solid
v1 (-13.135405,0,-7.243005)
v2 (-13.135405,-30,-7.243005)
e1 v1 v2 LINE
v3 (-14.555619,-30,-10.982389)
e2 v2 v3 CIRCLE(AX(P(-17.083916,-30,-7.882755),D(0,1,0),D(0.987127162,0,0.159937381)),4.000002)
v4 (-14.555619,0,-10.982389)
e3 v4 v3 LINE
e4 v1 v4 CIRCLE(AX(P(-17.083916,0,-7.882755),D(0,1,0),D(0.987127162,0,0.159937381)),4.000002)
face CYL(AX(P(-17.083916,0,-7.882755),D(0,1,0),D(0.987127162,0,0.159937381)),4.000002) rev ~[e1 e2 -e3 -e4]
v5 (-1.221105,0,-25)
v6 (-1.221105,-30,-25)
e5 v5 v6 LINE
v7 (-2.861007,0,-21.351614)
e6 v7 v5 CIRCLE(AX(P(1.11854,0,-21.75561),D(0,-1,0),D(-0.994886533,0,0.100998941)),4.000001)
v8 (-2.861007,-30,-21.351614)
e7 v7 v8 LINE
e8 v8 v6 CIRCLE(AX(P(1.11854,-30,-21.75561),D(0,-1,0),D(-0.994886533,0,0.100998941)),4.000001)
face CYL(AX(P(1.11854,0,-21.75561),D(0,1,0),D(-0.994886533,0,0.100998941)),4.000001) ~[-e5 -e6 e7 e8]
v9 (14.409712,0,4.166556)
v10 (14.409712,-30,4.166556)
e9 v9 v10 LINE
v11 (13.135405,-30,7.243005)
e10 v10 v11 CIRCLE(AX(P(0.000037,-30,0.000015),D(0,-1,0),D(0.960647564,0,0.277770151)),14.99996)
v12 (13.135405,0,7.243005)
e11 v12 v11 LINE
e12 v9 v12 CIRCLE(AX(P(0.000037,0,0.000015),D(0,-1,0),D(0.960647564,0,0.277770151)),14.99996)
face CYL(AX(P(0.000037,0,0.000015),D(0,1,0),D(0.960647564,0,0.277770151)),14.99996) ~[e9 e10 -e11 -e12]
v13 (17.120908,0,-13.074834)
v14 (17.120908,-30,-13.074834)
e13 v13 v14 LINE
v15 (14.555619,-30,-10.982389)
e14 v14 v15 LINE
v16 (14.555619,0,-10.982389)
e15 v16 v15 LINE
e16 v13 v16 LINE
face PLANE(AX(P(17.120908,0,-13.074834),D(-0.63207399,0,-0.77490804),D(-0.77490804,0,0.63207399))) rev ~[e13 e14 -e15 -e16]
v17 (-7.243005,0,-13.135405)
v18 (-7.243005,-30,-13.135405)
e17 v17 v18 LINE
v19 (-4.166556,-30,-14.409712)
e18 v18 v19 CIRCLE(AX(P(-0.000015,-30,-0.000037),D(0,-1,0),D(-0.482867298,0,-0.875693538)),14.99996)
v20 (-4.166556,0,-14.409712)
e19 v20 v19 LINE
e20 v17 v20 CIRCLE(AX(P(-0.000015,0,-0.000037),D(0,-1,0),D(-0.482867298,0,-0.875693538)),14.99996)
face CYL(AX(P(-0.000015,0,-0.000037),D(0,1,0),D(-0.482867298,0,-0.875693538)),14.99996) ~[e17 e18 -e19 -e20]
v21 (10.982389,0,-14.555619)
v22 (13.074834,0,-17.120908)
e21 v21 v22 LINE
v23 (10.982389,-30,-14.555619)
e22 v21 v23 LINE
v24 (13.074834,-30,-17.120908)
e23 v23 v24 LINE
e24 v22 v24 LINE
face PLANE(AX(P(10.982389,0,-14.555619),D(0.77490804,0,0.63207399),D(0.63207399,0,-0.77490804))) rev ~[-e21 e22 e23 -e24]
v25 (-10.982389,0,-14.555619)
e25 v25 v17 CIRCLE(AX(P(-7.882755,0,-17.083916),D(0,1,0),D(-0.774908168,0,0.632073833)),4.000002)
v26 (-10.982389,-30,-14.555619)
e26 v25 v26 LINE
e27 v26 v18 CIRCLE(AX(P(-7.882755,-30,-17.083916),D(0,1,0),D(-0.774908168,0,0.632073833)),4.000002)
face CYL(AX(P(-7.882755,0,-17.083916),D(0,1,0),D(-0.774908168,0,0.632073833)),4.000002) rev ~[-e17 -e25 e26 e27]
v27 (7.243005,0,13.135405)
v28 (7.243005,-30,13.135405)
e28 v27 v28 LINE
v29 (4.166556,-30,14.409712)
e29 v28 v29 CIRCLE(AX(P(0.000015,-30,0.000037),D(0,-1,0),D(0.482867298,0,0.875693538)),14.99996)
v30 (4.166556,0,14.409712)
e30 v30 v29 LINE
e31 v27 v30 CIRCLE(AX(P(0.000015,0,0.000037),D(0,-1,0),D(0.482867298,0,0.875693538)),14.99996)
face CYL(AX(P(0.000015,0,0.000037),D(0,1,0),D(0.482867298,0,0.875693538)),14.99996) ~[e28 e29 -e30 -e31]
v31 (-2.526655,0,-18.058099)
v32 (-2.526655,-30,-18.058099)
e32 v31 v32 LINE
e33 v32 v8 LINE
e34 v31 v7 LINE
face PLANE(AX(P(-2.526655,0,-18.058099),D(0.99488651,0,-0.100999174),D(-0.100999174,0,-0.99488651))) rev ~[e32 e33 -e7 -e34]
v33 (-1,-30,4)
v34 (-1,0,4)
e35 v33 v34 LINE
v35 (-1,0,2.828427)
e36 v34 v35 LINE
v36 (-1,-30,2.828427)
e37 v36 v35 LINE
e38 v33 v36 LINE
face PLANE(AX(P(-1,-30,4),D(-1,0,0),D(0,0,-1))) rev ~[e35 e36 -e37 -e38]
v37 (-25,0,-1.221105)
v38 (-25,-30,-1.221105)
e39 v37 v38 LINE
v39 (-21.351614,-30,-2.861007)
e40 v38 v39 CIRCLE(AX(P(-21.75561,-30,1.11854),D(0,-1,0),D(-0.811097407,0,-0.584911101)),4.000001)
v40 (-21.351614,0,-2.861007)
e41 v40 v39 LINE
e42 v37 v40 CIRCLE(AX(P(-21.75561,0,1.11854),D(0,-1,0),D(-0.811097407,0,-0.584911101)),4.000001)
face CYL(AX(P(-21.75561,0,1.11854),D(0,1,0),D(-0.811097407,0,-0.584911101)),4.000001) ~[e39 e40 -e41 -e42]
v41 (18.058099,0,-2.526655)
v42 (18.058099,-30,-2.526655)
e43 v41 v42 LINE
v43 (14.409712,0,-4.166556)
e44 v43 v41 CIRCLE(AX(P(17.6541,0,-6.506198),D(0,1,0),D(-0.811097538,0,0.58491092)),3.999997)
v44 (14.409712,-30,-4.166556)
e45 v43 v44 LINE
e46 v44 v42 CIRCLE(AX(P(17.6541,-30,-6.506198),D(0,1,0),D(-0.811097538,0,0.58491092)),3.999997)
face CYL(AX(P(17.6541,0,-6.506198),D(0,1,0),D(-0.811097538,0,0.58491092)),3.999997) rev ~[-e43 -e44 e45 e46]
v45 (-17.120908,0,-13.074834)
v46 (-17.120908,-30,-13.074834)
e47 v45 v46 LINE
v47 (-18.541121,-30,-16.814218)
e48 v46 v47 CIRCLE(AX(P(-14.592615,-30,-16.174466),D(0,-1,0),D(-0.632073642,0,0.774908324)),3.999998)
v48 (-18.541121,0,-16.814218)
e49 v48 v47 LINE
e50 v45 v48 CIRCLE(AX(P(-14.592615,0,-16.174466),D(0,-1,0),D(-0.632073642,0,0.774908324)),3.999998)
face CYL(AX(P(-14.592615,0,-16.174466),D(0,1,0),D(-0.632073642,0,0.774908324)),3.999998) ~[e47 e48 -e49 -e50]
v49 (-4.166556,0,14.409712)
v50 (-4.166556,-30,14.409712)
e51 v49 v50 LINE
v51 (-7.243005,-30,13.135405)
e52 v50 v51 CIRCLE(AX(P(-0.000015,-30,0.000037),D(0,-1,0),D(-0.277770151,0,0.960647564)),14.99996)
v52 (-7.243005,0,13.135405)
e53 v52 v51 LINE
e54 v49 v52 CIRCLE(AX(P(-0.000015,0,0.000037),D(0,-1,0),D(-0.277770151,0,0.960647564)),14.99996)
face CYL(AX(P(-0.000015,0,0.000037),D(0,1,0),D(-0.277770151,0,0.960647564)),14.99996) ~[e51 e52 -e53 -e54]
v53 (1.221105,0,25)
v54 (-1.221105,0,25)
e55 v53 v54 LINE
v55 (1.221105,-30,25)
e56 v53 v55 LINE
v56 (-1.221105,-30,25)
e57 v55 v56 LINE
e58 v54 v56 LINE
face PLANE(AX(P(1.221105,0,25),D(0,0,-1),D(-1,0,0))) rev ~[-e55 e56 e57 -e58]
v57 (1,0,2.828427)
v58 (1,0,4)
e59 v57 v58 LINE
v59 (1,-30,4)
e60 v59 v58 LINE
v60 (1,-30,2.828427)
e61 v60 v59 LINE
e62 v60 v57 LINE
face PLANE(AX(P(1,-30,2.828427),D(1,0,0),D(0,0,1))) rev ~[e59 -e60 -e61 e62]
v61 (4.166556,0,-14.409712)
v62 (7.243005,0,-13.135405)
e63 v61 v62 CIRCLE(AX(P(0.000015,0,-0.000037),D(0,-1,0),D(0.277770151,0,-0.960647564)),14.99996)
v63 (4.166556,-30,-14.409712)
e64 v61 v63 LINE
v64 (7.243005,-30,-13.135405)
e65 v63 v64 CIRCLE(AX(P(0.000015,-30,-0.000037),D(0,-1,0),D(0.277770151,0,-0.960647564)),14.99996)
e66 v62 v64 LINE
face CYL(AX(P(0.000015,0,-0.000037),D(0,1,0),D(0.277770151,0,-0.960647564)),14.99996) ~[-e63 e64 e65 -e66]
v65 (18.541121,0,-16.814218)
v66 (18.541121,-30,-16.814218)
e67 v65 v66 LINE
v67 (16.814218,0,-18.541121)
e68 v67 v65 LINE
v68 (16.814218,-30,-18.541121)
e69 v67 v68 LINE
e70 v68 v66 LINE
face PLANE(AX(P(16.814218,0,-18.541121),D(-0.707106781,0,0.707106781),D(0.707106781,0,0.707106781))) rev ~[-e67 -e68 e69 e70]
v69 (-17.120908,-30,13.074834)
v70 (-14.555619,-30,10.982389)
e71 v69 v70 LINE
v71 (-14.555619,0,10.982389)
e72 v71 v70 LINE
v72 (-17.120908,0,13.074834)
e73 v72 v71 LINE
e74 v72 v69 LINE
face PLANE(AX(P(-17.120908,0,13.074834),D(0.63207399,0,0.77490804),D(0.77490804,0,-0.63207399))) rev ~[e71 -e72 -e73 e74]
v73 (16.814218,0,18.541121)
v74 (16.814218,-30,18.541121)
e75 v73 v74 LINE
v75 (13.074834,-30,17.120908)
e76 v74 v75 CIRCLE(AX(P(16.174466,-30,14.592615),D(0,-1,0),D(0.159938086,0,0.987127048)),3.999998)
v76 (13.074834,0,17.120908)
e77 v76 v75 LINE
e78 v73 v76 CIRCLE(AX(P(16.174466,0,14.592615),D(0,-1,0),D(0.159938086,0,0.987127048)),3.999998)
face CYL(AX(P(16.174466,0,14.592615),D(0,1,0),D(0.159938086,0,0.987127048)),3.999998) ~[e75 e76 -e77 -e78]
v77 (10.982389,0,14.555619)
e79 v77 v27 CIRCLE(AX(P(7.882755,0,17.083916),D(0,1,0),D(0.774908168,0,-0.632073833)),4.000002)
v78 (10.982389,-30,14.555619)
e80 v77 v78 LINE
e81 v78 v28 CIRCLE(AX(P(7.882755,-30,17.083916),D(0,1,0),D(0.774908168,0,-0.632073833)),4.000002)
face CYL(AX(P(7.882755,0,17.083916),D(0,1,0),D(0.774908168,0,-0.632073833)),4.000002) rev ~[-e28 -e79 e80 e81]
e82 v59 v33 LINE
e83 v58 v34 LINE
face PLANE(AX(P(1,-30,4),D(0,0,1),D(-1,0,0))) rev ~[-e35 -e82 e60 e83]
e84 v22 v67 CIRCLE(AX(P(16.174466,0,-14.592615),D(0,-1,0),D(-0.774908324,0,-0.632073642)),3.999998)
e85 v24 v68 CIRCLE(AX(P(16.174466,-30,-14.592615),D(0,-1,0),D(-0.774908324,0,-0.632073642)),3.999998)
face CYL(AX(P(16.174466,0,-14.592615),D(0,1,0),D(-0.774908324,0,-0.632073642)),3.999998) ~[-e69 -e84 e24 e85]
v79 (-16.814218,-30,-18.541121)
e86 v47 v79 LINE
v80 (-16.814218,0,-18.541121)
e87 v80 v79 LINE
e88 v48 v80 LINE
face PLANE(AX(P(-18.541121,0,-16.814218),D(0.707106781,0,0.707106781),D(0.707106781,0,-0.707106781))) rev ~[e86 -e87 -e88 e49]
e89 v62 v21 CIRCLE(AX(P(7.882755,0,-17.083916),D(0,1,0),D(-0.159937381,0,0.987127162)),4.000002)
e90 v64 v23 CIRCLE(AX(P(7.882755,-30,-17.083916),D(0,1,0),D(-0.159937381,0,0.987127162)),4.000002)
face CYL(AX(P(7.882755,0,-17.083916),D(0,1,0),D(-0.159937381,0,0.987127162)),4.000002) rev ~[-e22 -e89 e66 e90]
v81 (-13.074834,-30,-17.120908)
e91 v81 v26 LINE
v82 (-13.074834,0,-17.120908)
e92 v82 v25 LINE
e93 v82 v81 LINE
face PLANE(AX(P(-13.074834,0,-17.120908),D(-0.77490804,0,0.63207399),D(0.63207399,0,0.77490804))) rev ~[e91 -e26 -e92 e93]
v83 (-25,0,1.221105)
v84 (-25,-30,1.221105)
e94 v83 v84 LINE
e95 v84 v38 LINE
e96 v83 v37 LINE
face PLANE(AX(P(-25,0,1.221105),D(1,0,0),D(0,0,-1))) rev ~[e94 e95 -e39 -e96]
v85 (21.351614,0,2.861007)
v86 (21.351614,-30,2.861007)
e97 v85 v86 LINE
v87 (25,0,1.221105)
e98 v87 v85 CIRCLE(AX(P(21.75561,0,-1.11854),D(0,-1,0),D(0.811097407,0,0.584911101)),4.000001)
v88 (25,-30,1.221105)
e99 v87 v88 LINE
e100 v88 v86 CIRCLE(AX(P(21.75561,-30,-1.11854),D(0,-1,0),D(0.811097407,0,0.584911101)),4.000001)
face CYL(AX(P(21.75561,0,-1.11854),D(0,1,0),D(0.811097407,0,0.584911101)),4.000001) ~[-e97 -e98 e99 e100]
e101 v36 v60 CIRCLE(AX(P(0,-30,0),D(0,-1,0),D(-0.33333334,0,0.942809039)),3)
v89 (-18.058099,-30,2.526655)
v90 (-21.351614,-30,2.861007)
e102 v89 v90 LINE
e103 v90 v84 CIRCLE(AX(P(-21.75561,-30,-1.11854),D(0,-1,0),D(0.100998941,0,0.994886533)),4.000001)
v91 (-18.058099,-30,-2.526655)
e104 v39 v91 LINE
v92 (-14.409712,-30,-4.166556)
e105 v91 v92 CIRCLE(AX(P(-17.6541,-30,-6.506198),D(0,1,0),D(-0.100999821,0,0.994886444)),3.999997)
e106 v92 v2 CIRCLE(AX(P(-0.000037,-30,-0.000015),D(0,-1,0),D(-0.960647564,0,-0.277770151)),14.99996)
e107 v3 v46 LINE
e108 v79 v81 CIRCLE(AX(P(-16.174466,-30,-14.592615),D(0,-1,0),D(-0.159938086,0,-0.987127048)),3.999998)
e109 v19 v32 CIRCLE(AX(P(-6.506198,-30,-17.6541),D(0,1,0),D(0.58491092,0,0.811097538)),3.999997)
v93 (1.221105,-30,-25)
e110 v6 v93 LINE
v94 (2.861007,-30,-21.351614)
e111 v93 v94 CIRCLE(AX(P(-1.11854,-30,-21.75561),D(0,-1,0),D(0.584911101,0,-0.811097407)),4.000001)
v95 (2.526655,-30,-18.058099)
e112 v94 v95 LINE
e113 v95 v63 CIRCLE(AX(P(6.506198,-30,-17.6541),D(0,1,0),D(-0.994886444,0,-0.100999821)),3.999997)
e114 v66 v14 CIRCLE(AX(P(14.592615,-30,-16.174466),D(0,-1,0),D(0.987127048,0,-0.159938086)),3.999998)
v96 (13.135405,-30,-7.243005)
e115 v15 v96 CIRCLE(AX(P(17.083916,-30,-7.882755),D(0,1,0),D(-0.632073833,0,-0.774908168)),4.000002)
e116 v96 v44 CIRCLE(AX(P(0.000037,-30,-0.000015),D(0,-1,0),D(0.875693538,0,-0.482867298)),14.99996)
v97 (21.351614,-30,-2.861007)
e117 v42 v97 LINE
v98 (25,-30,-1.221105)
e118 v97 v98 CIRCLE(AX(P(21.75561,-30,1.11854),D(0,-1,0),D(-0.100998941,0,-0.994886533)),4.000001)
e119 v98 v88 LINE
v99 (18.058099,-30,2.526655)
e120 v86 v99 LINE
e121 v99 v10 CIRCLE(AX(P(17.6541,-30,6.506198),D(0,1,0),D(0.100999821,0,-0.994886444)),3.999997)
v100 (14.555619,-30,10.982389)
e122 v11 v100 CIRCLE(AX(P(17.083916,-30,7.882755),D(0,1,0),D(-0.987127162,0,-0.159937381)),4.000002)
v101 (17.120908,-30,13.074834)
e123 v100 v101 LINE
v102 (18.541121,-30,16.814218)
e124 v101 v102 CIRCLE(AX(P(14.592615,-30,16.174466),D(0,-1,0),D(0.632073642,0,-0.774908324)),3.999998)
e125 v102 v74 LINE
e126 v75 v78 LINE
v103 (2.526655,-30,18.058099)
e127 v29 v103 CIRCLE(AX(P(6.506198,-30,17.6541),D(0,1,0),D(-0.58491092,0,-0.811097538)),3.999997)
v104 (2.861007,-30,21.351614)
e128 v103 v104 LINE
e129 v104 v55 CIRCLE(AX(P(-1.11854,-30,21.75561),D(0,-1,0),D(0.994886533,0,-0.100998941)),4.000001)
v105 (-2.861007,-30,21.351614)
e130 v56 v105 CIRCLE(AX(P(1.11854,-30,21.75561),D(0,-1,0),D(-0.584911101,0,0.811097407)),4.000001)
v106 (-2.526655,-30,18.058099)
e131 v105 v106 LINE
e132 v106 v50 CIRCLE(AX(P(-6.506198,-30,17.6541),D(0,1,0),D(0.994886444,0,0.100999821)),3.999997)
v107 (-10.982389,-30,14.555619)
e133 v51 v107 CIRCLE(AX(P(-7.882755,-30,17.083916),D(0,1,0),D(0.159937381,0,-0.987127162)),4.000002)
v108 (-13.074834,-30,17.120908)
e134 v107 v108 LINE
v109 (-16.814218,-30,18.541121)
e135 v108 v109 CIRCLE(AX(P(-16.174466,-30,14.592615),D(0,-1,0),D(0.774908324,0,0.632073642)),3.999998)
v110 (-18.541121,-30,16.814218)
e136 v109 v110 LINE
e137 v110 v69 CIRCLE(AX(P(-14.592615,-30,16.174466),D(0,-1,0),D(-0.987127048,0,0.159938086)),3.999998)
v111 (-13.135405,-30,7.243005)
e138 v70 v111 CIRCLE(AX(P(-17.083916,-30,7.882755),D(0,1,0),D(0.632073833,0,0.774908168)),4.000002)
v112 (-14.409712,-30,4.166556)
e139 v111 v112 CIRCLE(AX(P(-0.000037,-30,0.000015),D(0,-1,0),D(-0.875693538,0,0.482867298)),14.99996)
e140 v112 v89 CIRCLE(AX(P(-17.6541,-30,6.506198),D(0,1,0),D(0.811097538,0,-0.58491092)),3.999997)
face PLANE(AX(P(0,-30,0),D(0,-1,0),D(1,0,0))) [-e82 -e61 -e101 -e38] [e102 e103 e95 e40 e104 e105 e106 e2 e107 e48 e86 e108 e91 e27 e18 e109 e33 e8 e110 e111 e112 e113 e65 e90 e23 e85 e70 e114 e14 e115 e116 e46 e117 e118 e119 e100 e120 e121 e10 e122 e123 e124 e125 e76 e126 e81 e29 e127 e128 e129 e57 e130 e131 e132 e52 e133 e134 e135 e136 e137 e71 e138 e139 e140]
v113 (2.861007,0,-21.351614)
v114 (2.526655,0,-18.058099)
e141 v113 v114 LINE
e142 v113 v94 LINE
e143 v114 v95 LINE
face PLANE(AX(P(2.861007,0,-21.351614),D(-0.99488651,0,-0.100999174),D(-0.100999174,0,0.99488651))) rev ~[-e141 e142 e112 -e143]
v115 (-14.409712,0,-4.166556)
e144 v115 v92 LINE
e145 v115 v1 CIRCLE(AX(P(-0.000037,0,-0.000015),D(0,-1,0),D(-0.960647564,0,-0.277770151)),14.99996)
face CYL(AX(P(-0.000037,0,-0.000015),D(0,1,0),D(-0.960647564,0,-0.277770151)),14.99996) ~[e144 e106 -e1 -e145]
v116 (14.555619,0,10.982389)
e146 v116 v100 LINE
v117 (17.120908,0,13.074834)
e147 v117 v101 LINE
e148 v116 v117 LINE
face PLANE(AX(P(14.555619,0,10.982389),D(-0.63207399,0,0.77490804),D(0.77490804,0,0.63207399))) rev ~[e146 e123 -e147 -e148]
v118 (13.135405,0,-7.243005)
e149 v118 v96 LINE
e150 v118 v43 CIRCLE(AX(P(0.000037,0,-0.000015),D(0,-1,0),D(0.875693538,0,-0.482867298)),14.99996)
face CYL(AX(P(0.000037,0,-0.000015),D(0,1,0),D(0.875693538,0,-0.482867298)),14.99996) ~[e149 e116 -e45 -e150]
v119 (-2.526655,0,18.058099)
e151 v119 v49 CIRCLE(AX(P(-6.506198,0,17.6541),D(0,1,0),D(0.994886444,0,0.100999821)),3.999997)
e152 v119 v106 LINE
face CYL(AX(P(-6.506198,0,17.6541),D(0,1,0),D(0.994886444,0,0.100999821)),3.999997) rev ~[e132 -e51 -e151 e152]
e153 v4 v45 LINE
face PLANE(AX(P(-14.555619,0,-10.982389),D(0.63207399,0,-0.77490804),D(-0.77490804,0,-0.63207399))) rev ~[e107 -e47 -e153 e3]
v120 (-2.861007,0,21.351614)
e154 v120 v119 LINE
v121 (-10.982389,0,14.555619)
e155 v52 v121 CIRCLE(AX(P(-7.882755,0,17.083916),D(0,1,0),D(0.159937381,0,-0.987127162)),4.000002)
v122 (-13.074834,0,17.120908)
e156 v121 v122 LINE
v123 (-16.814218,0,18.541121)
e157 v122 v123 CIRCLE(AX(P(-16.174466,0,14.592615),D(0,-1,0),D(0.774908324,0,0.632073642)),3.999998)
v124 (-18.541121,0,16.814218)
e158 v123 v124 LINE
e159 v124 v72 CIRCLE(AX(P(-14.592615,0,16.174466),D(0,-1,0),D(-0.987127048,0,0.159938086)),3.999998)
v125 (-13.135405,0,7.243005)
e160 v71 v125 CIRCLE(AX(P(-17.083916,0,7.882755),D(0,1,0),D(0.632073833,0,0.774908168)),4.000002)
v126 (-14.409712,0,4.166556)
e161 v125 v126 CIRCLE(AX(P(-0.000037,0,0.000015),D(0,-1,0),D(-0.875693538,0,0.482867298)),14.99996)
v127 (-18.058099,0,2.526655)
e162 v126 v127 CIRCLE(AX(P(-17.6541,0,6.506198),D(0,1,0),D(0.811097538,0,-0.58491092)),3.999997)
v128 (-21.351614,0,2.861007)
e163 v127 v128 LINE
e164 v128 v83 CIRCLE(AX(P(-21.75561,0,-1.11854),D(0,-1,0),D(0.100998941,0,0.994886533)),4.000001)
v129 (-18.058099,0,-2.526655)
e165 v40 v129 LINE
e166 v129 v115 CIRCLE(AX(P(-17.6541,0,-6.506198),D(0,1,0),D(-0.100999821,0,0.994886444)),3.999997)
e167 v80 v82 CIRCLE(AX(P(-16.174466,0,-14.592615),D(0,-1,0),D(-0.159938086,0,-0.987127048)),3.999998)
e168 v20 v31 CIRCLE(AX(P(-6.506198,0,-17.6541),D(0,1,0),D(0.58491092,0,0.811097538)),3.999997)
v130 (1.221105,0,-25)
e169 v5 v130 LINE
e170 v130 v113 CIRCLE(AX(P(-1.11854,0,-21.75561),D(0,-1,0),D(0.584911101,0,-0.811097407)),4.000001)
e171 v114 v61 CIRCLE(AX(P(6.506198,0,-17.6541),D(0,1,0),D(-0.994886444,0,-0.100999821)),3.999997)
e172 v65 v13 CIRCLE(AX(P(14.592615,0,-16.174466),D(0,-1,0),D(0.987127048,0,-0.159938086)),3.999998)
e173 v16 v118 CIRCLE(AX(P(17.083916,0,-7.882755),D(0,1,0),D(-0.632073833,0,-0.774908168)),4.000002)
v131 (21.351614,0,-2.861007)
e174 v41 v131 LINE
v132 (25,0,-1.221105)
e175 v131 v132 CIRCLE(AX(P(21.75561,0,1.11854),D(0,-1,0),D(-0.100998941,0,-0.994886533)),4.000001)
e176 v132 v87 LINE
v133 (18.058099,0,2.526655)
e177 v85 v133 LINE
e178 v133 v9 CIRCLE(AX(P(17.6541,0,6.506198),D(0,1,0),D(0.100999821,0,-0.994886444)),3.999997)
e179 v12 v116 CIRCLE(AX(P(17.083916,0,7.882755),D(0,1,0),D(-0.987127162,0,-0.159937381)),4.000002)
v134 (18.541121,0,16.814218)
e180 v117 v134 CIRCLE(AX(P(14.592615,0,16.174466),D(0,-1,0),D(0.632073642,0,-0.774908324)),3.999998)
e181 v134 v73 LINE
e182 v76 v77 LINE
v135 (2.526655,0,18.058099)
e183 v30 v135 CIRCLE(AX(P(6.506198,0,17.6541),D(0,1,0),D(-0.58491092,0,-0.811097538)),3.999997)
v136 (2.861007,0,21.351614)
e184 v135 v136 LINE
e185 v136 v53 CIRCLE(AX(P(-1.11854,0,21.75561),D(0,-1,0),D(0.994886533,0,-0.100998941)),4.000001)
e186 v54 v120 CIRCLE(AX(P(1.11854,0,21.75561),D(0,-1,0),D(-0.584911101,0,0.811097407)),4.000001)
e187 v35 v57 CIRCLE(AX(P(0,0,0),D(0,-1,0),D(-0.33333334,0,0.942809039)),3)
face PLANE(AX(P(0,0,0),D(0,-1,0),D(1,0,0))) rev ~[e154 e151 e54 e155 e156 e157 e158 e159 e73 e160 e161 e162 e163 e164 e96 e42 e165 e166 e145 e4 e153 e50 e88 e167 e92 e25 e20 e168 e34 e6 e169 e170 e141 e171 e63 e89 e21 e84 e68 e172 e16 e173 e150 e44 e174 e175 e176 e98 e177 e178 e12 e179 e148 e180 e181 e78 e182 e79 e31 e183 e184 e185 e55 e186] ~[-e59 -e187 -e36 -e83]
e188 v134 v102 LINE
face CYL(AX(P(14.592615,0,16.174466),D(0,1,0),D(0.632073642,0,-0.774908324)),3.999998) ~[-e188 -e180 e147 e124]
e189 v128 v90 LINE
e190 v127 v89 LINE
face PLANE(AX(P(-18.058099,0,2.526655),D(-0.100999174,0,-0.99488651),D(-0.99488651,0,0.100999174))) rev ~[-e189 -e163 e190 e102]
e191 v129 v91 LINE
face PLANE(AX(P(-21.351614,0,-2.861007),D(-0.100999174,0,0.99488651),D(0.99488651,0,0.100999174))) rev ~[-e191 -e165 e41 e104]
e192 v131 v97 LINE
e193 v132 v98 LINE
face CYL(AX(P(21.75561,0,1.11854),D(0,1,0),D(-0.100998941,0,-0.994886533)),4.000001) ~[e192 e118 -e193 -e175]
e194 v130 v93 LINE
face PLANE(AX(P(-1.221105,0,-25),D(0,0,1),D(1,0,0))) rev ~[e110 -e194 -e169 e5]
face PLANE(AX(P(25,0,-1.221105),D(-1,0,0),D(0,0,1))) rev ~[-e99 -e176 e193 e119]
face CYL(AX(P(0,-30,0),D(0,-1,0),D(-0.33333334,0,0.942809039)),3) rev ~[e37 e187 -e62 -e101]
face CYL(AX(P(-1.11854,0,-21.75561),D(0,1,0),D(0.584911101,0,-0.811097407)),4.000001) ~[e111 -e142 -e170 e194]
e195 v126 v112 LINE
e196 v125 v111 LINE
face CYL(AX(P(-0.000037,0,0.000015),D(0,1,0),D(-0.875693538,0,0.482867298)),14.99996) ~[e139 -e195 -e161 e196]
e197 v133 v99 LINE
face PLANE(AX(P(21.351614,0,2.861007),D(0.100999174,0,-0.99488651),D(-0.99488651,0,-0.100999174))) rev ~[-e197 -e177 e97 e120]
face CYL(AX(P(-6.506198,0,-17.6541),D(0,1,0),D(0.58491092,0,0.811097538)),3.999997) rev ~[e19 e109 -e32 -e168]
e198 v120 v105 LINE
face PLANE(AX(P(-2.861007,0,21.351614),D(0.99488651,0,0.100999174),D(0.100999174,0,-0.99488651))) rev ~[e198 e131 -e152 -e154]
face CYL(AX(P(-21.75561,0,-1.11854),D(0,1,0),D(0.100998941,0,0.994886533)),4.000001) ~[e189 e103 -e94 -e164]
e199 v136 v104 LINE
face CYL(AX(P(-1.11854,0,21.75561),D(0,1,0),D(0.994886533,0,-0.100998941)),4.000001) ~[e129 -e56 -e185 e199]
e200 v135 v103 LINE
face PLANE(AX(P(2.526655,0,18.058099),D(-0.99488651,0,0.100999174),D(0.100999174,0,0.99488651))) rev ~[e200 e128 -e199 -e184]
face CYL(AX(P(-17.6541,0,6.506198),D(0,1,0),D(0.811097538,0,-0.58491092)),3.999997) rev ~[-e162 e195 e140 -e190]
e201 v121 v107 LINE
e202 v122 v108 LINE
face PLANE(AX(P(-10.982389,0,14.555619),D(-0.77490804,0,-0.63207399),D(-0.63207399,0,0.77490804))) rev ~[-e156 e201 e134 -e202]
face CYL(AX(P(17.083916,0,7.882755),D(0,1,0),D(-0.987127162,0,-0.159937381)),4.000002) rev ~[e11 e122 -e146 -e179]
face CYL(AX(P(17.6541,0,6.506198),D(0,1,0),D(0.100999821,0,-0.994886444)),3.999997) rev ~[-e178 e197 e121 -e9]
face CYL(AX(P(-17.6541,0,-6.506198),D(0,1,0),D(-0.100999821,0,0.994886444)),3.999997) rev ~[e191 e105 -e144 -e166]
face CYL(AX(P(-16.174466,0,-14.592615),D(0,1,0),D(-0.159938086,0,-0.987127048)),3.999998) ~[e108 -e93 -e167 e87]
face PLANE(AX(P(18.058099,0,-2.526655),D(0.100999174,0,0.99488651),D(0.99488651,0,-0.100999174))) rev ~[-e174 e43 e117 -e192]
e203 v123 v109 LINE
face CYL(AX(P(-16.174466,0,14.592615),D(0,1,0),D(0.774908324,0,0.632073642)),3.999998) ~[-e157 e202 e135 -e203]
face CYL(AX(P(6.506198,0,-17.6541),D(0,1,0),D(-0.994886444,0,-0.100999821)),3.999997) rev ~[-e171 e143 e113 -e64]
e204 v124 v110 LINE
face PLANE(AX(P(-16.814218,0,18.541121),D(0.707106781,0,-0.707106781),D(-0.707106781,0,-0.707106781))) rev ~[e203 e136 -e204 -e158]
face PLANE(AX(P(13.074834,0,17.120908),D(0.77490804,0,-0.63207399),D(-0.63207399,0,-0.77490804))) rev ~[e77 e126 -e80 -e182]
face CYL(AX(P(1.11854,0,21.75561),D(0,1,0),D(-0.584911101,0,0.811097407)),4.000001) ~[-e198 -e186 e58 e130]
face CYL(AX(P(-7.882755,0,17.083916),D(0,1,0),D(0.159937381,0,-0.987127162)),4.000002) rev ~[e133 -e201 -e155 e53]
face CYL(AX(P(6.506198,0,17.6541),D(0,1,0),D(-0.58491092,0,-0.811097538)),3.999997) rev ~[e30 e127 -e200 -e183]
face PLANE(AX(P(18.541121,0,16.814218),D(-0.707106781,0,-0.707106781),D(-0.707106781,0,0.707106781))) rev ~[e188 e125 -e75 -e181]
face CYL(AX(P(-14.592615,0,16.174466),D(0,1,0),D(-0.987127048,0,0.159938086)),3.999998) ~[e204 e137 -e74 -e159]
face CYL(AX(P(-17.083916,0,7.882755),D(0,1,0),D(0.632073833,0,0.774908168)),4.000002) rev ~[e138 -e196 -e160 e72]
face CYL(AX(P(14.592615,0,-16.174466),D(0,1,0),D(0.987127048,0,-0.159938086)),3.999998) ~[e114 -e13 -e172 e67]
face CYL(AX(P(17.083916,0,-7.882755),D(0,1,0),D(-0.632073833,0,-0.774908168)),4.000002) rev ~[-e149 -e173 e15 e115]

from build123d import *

# Parameters (mm, degrees)
F1_DEPTH = 30
F3_DEPTH = 30.001


with BuildPart() as f1:
    # F0 (on Front) → F1 (new body)
    with BuildSketch(Plane.XZ):
        with BuildLine():
            ThreePointArc((-14.555619, 10.982389), (-13.34453, 9.30297), (-13.135405, 7.243005))
            ThreePointArc((-13.135405, 7.243005), (-13.858193, 5.740251), (-14.409712, 4.166556))
            ThreePointArc((-14.409712, 4.166556), (-16.0142, 2.857814), (-18.058099, 2.526655))
            Line((-18.058099, 2.526655), (-21.351614, 2.861007))
            ThreePointArc((-21.351614, 2.861007), (-23.395512, 2.529847), (-25, 1.221105))
            Line((-25, 1.221105), (-25, -1.221105))
            ThreePointArc((-25, -1.221105), (-23.395512, -2.529847), (-21.351614, -2.861007))
            Line((-21.351614, -2.861007), (-18.058099, -2.526655))
            ThreePointArc((-18.058099, -2.526655), (-16.0142, -2.857814), (-14.409712, -4.166556))
            ThreePointArc((-14.409712, -4.166556), (-13.858193, -5.740251), (-13.135405, -7.243005))
            ThreePointArc((-13.135405, -7.243005), (-13.34453, -9.30297), (-14.555619, -10.982389))
            Line((-14.555619, -10.982389), (-17.120908, -13.074834))
            ThreePointArc((-17.120908, -13.074834), (-18.331997, -14.754253), (-18.541121, -16.814218))
            Line((-18.541121, -16.814218), (-16.814218, -18.541121))
            ThreePointArc((-16.814218, -18.541121), (-14.754253, -18.331997), (-13.074834, -17.120908))
            Line((-13.074834, -17.120908), (-10.982389, -14.555619))
            ThreePointArc((-10.982389, -14.555619), (-9.30297, -13.34453), (-7.243005, -13.135405))
            ThreePointArc((-7.243005, -13.135405), (-5.740251, -13.858193), (-4.166556, -14.409712))
            ThreePointArc((-4.166556, -14.409712), (-2.857814, -16.0142), (-2.526655, -18.058099))
            Line((-2.526655, -18.058099), (-2.861007, -21.351614))
            ThreePointArc((-2.861007, -21.351614), (-2.529847, -23.395512), (-1.221105, -25))
            Line((-1.221105, -25), (1.221105, -25))
            ThreePointArc((1.221105, -25), (2.529847, -23.395512), (2.861007, -21.351614))
            Line((2.861007, -21.351614), (2.526655, -18.058099))
            ThreePointArc((2.526655, -18.058099), (2.857814, -16.0142), (4.166556, -14.409712))
            ThreePointArc((4.166556, -14.409712), (5.740251, -13.858193), (7.243005, -13.135405))
            ThreePointArc((7.243005, -13.135405), (9.30297, -13.34453), (10.982389, -14.555619))
            Line((10.982389, -14.555619), (13.074834, -17.120908))
            ThreePointArc((13.074834, -17.120908), (14.754253, -18.331997), (16.814218, -18.541121))
            Line((16.814218, -18.541121), (18.541121, -16.814218))
            ThreePointArc((18.541121, -16.814218), (18.331997, -14.754253), (17.120908, -13.074834))
            Line((17.120908, -13.074834), (14.555619, -10.982389))
            ThreePointArc((14.555619, -10.982389), (13.34453, -9.30297), (13.135405, -7.243005))
            ThreePointArc((13.135405, -7.243005), (13.858193, -5.740251), (14.409712, -4.166556))
            ThreePointArc((14.409712, -4.166556), (16.0142, -2.857814), (18.058099, -2.526655))
            Line((18.058099, -2.526655), (21.351614, -2.861007))
            ThreePointArc((21.351614, -2.861007), (23.395512, -2.529847), (25, -1.221105))
            Line((25, -1.221105), (25, 1.221105))
            ThreePointArc((25, 1.221105), (23.395512, 2.529847), (21.351614, 2.861007))
            Line((21.351614, 2.861007), (18.058099, 2.526655))
            ThreePointArc((18.058099, 2.526655), (16.0142, 2.857814), (14.409712, 4.166556))
            ThreePointArc((14.409712, 4.166556), (13.858193, 5.740251), (13.135405, 7.243005))
            ThreePointArc((13.135405, 7.243005), (13.34453, 9.30297), (14.555619, 10.982389))
            Line((14.555619, 10.982389), (17.120908, 13.074834))
            ThreePointArc((17.120908, 13.074834), (18.331997, 14.754253), (18.541121, 16.814218))
            Line((18.541121, 16.814218), (16.814218, 18.541121))
            ThreePointArc((16.814218, 18.541121), (14.754253, 18.331997), (13.074834, 17.120908))
            Line((13.074834, 17.120908), (10.982389, 14.555619))
            ThreePointArc((10.982389, 14.555619), (9.30297, 13.34453), (7.243005, 13.135405))
            ThreePointArc((7.243005, 13.135405), (5.740251, 13.858193), (4.166556, 14.409712))
            ThreePointArc((4.166556, 14.409712), (2.857814, 16.0142), (2.526655, 18.058099))
            Line((2.526655, 18.058099), (2.861007, 21.351614))
            ThreePointArc((2.861007, 21.351614), (2.529847, 23.395512), (1.221105, 25))
            Line((1.221105, 25), (-1.221105, 25))
            ThreePointArc((-1.221105, 25), (-2.529847, 23.395512), (-2.861007, 21.351614))
            Line((-2.861007, 21.351614), (-2.526655, 18.058099))
            ThreePointArc((-2.526655, 18.058099), (-2.857814, 16.0142), (-4.166556, 14.409712))
            ThreePointArc((-4.166556, 14.409712), (-5.740251, 13.858193), (-7.243005, 13.135405))
            ThreePointArc((-7.243005, 13.135405), (-9.30297, 13.34453), (-10.982389, 14.555619))
            Line((-10.982389, 14.555619), (-13.074834, 17.120908))
            ThreePointArc((-13.074834, 17.120908), (-14.754253, 18.331997), (-16.814218, 18.541121))
            Line((-16.814218, 18.541121), (-18.541121, 16.814218))
            ThreePointArc((-18.541121, 16.814218), (-18.331997, 14.754253), (-17.120908, 13.074834))
            Line((-17.120908, 13.074834), (-14.555619, 10.982389))
        make_face()
    extrude(amount=F1_DEPTH)

    # F2 (on face) → F3 (cut, through all)
    with BuildSketch(Plane.XZ.offset(30)):
        with BuildLine():
            Line((-1, 4), (-1, 2.828427))
            ThreePointArc((-1, 2.828427), (0, -3), (1, 2.828427))
            Line((1, 2.828427), (1, 4))
            Line((1, 4), (-1, 4))
        make_face()
    extrude(amount=-F3_DEPTH, mode=Mode.SUBTRACT)


solid = f1.part
